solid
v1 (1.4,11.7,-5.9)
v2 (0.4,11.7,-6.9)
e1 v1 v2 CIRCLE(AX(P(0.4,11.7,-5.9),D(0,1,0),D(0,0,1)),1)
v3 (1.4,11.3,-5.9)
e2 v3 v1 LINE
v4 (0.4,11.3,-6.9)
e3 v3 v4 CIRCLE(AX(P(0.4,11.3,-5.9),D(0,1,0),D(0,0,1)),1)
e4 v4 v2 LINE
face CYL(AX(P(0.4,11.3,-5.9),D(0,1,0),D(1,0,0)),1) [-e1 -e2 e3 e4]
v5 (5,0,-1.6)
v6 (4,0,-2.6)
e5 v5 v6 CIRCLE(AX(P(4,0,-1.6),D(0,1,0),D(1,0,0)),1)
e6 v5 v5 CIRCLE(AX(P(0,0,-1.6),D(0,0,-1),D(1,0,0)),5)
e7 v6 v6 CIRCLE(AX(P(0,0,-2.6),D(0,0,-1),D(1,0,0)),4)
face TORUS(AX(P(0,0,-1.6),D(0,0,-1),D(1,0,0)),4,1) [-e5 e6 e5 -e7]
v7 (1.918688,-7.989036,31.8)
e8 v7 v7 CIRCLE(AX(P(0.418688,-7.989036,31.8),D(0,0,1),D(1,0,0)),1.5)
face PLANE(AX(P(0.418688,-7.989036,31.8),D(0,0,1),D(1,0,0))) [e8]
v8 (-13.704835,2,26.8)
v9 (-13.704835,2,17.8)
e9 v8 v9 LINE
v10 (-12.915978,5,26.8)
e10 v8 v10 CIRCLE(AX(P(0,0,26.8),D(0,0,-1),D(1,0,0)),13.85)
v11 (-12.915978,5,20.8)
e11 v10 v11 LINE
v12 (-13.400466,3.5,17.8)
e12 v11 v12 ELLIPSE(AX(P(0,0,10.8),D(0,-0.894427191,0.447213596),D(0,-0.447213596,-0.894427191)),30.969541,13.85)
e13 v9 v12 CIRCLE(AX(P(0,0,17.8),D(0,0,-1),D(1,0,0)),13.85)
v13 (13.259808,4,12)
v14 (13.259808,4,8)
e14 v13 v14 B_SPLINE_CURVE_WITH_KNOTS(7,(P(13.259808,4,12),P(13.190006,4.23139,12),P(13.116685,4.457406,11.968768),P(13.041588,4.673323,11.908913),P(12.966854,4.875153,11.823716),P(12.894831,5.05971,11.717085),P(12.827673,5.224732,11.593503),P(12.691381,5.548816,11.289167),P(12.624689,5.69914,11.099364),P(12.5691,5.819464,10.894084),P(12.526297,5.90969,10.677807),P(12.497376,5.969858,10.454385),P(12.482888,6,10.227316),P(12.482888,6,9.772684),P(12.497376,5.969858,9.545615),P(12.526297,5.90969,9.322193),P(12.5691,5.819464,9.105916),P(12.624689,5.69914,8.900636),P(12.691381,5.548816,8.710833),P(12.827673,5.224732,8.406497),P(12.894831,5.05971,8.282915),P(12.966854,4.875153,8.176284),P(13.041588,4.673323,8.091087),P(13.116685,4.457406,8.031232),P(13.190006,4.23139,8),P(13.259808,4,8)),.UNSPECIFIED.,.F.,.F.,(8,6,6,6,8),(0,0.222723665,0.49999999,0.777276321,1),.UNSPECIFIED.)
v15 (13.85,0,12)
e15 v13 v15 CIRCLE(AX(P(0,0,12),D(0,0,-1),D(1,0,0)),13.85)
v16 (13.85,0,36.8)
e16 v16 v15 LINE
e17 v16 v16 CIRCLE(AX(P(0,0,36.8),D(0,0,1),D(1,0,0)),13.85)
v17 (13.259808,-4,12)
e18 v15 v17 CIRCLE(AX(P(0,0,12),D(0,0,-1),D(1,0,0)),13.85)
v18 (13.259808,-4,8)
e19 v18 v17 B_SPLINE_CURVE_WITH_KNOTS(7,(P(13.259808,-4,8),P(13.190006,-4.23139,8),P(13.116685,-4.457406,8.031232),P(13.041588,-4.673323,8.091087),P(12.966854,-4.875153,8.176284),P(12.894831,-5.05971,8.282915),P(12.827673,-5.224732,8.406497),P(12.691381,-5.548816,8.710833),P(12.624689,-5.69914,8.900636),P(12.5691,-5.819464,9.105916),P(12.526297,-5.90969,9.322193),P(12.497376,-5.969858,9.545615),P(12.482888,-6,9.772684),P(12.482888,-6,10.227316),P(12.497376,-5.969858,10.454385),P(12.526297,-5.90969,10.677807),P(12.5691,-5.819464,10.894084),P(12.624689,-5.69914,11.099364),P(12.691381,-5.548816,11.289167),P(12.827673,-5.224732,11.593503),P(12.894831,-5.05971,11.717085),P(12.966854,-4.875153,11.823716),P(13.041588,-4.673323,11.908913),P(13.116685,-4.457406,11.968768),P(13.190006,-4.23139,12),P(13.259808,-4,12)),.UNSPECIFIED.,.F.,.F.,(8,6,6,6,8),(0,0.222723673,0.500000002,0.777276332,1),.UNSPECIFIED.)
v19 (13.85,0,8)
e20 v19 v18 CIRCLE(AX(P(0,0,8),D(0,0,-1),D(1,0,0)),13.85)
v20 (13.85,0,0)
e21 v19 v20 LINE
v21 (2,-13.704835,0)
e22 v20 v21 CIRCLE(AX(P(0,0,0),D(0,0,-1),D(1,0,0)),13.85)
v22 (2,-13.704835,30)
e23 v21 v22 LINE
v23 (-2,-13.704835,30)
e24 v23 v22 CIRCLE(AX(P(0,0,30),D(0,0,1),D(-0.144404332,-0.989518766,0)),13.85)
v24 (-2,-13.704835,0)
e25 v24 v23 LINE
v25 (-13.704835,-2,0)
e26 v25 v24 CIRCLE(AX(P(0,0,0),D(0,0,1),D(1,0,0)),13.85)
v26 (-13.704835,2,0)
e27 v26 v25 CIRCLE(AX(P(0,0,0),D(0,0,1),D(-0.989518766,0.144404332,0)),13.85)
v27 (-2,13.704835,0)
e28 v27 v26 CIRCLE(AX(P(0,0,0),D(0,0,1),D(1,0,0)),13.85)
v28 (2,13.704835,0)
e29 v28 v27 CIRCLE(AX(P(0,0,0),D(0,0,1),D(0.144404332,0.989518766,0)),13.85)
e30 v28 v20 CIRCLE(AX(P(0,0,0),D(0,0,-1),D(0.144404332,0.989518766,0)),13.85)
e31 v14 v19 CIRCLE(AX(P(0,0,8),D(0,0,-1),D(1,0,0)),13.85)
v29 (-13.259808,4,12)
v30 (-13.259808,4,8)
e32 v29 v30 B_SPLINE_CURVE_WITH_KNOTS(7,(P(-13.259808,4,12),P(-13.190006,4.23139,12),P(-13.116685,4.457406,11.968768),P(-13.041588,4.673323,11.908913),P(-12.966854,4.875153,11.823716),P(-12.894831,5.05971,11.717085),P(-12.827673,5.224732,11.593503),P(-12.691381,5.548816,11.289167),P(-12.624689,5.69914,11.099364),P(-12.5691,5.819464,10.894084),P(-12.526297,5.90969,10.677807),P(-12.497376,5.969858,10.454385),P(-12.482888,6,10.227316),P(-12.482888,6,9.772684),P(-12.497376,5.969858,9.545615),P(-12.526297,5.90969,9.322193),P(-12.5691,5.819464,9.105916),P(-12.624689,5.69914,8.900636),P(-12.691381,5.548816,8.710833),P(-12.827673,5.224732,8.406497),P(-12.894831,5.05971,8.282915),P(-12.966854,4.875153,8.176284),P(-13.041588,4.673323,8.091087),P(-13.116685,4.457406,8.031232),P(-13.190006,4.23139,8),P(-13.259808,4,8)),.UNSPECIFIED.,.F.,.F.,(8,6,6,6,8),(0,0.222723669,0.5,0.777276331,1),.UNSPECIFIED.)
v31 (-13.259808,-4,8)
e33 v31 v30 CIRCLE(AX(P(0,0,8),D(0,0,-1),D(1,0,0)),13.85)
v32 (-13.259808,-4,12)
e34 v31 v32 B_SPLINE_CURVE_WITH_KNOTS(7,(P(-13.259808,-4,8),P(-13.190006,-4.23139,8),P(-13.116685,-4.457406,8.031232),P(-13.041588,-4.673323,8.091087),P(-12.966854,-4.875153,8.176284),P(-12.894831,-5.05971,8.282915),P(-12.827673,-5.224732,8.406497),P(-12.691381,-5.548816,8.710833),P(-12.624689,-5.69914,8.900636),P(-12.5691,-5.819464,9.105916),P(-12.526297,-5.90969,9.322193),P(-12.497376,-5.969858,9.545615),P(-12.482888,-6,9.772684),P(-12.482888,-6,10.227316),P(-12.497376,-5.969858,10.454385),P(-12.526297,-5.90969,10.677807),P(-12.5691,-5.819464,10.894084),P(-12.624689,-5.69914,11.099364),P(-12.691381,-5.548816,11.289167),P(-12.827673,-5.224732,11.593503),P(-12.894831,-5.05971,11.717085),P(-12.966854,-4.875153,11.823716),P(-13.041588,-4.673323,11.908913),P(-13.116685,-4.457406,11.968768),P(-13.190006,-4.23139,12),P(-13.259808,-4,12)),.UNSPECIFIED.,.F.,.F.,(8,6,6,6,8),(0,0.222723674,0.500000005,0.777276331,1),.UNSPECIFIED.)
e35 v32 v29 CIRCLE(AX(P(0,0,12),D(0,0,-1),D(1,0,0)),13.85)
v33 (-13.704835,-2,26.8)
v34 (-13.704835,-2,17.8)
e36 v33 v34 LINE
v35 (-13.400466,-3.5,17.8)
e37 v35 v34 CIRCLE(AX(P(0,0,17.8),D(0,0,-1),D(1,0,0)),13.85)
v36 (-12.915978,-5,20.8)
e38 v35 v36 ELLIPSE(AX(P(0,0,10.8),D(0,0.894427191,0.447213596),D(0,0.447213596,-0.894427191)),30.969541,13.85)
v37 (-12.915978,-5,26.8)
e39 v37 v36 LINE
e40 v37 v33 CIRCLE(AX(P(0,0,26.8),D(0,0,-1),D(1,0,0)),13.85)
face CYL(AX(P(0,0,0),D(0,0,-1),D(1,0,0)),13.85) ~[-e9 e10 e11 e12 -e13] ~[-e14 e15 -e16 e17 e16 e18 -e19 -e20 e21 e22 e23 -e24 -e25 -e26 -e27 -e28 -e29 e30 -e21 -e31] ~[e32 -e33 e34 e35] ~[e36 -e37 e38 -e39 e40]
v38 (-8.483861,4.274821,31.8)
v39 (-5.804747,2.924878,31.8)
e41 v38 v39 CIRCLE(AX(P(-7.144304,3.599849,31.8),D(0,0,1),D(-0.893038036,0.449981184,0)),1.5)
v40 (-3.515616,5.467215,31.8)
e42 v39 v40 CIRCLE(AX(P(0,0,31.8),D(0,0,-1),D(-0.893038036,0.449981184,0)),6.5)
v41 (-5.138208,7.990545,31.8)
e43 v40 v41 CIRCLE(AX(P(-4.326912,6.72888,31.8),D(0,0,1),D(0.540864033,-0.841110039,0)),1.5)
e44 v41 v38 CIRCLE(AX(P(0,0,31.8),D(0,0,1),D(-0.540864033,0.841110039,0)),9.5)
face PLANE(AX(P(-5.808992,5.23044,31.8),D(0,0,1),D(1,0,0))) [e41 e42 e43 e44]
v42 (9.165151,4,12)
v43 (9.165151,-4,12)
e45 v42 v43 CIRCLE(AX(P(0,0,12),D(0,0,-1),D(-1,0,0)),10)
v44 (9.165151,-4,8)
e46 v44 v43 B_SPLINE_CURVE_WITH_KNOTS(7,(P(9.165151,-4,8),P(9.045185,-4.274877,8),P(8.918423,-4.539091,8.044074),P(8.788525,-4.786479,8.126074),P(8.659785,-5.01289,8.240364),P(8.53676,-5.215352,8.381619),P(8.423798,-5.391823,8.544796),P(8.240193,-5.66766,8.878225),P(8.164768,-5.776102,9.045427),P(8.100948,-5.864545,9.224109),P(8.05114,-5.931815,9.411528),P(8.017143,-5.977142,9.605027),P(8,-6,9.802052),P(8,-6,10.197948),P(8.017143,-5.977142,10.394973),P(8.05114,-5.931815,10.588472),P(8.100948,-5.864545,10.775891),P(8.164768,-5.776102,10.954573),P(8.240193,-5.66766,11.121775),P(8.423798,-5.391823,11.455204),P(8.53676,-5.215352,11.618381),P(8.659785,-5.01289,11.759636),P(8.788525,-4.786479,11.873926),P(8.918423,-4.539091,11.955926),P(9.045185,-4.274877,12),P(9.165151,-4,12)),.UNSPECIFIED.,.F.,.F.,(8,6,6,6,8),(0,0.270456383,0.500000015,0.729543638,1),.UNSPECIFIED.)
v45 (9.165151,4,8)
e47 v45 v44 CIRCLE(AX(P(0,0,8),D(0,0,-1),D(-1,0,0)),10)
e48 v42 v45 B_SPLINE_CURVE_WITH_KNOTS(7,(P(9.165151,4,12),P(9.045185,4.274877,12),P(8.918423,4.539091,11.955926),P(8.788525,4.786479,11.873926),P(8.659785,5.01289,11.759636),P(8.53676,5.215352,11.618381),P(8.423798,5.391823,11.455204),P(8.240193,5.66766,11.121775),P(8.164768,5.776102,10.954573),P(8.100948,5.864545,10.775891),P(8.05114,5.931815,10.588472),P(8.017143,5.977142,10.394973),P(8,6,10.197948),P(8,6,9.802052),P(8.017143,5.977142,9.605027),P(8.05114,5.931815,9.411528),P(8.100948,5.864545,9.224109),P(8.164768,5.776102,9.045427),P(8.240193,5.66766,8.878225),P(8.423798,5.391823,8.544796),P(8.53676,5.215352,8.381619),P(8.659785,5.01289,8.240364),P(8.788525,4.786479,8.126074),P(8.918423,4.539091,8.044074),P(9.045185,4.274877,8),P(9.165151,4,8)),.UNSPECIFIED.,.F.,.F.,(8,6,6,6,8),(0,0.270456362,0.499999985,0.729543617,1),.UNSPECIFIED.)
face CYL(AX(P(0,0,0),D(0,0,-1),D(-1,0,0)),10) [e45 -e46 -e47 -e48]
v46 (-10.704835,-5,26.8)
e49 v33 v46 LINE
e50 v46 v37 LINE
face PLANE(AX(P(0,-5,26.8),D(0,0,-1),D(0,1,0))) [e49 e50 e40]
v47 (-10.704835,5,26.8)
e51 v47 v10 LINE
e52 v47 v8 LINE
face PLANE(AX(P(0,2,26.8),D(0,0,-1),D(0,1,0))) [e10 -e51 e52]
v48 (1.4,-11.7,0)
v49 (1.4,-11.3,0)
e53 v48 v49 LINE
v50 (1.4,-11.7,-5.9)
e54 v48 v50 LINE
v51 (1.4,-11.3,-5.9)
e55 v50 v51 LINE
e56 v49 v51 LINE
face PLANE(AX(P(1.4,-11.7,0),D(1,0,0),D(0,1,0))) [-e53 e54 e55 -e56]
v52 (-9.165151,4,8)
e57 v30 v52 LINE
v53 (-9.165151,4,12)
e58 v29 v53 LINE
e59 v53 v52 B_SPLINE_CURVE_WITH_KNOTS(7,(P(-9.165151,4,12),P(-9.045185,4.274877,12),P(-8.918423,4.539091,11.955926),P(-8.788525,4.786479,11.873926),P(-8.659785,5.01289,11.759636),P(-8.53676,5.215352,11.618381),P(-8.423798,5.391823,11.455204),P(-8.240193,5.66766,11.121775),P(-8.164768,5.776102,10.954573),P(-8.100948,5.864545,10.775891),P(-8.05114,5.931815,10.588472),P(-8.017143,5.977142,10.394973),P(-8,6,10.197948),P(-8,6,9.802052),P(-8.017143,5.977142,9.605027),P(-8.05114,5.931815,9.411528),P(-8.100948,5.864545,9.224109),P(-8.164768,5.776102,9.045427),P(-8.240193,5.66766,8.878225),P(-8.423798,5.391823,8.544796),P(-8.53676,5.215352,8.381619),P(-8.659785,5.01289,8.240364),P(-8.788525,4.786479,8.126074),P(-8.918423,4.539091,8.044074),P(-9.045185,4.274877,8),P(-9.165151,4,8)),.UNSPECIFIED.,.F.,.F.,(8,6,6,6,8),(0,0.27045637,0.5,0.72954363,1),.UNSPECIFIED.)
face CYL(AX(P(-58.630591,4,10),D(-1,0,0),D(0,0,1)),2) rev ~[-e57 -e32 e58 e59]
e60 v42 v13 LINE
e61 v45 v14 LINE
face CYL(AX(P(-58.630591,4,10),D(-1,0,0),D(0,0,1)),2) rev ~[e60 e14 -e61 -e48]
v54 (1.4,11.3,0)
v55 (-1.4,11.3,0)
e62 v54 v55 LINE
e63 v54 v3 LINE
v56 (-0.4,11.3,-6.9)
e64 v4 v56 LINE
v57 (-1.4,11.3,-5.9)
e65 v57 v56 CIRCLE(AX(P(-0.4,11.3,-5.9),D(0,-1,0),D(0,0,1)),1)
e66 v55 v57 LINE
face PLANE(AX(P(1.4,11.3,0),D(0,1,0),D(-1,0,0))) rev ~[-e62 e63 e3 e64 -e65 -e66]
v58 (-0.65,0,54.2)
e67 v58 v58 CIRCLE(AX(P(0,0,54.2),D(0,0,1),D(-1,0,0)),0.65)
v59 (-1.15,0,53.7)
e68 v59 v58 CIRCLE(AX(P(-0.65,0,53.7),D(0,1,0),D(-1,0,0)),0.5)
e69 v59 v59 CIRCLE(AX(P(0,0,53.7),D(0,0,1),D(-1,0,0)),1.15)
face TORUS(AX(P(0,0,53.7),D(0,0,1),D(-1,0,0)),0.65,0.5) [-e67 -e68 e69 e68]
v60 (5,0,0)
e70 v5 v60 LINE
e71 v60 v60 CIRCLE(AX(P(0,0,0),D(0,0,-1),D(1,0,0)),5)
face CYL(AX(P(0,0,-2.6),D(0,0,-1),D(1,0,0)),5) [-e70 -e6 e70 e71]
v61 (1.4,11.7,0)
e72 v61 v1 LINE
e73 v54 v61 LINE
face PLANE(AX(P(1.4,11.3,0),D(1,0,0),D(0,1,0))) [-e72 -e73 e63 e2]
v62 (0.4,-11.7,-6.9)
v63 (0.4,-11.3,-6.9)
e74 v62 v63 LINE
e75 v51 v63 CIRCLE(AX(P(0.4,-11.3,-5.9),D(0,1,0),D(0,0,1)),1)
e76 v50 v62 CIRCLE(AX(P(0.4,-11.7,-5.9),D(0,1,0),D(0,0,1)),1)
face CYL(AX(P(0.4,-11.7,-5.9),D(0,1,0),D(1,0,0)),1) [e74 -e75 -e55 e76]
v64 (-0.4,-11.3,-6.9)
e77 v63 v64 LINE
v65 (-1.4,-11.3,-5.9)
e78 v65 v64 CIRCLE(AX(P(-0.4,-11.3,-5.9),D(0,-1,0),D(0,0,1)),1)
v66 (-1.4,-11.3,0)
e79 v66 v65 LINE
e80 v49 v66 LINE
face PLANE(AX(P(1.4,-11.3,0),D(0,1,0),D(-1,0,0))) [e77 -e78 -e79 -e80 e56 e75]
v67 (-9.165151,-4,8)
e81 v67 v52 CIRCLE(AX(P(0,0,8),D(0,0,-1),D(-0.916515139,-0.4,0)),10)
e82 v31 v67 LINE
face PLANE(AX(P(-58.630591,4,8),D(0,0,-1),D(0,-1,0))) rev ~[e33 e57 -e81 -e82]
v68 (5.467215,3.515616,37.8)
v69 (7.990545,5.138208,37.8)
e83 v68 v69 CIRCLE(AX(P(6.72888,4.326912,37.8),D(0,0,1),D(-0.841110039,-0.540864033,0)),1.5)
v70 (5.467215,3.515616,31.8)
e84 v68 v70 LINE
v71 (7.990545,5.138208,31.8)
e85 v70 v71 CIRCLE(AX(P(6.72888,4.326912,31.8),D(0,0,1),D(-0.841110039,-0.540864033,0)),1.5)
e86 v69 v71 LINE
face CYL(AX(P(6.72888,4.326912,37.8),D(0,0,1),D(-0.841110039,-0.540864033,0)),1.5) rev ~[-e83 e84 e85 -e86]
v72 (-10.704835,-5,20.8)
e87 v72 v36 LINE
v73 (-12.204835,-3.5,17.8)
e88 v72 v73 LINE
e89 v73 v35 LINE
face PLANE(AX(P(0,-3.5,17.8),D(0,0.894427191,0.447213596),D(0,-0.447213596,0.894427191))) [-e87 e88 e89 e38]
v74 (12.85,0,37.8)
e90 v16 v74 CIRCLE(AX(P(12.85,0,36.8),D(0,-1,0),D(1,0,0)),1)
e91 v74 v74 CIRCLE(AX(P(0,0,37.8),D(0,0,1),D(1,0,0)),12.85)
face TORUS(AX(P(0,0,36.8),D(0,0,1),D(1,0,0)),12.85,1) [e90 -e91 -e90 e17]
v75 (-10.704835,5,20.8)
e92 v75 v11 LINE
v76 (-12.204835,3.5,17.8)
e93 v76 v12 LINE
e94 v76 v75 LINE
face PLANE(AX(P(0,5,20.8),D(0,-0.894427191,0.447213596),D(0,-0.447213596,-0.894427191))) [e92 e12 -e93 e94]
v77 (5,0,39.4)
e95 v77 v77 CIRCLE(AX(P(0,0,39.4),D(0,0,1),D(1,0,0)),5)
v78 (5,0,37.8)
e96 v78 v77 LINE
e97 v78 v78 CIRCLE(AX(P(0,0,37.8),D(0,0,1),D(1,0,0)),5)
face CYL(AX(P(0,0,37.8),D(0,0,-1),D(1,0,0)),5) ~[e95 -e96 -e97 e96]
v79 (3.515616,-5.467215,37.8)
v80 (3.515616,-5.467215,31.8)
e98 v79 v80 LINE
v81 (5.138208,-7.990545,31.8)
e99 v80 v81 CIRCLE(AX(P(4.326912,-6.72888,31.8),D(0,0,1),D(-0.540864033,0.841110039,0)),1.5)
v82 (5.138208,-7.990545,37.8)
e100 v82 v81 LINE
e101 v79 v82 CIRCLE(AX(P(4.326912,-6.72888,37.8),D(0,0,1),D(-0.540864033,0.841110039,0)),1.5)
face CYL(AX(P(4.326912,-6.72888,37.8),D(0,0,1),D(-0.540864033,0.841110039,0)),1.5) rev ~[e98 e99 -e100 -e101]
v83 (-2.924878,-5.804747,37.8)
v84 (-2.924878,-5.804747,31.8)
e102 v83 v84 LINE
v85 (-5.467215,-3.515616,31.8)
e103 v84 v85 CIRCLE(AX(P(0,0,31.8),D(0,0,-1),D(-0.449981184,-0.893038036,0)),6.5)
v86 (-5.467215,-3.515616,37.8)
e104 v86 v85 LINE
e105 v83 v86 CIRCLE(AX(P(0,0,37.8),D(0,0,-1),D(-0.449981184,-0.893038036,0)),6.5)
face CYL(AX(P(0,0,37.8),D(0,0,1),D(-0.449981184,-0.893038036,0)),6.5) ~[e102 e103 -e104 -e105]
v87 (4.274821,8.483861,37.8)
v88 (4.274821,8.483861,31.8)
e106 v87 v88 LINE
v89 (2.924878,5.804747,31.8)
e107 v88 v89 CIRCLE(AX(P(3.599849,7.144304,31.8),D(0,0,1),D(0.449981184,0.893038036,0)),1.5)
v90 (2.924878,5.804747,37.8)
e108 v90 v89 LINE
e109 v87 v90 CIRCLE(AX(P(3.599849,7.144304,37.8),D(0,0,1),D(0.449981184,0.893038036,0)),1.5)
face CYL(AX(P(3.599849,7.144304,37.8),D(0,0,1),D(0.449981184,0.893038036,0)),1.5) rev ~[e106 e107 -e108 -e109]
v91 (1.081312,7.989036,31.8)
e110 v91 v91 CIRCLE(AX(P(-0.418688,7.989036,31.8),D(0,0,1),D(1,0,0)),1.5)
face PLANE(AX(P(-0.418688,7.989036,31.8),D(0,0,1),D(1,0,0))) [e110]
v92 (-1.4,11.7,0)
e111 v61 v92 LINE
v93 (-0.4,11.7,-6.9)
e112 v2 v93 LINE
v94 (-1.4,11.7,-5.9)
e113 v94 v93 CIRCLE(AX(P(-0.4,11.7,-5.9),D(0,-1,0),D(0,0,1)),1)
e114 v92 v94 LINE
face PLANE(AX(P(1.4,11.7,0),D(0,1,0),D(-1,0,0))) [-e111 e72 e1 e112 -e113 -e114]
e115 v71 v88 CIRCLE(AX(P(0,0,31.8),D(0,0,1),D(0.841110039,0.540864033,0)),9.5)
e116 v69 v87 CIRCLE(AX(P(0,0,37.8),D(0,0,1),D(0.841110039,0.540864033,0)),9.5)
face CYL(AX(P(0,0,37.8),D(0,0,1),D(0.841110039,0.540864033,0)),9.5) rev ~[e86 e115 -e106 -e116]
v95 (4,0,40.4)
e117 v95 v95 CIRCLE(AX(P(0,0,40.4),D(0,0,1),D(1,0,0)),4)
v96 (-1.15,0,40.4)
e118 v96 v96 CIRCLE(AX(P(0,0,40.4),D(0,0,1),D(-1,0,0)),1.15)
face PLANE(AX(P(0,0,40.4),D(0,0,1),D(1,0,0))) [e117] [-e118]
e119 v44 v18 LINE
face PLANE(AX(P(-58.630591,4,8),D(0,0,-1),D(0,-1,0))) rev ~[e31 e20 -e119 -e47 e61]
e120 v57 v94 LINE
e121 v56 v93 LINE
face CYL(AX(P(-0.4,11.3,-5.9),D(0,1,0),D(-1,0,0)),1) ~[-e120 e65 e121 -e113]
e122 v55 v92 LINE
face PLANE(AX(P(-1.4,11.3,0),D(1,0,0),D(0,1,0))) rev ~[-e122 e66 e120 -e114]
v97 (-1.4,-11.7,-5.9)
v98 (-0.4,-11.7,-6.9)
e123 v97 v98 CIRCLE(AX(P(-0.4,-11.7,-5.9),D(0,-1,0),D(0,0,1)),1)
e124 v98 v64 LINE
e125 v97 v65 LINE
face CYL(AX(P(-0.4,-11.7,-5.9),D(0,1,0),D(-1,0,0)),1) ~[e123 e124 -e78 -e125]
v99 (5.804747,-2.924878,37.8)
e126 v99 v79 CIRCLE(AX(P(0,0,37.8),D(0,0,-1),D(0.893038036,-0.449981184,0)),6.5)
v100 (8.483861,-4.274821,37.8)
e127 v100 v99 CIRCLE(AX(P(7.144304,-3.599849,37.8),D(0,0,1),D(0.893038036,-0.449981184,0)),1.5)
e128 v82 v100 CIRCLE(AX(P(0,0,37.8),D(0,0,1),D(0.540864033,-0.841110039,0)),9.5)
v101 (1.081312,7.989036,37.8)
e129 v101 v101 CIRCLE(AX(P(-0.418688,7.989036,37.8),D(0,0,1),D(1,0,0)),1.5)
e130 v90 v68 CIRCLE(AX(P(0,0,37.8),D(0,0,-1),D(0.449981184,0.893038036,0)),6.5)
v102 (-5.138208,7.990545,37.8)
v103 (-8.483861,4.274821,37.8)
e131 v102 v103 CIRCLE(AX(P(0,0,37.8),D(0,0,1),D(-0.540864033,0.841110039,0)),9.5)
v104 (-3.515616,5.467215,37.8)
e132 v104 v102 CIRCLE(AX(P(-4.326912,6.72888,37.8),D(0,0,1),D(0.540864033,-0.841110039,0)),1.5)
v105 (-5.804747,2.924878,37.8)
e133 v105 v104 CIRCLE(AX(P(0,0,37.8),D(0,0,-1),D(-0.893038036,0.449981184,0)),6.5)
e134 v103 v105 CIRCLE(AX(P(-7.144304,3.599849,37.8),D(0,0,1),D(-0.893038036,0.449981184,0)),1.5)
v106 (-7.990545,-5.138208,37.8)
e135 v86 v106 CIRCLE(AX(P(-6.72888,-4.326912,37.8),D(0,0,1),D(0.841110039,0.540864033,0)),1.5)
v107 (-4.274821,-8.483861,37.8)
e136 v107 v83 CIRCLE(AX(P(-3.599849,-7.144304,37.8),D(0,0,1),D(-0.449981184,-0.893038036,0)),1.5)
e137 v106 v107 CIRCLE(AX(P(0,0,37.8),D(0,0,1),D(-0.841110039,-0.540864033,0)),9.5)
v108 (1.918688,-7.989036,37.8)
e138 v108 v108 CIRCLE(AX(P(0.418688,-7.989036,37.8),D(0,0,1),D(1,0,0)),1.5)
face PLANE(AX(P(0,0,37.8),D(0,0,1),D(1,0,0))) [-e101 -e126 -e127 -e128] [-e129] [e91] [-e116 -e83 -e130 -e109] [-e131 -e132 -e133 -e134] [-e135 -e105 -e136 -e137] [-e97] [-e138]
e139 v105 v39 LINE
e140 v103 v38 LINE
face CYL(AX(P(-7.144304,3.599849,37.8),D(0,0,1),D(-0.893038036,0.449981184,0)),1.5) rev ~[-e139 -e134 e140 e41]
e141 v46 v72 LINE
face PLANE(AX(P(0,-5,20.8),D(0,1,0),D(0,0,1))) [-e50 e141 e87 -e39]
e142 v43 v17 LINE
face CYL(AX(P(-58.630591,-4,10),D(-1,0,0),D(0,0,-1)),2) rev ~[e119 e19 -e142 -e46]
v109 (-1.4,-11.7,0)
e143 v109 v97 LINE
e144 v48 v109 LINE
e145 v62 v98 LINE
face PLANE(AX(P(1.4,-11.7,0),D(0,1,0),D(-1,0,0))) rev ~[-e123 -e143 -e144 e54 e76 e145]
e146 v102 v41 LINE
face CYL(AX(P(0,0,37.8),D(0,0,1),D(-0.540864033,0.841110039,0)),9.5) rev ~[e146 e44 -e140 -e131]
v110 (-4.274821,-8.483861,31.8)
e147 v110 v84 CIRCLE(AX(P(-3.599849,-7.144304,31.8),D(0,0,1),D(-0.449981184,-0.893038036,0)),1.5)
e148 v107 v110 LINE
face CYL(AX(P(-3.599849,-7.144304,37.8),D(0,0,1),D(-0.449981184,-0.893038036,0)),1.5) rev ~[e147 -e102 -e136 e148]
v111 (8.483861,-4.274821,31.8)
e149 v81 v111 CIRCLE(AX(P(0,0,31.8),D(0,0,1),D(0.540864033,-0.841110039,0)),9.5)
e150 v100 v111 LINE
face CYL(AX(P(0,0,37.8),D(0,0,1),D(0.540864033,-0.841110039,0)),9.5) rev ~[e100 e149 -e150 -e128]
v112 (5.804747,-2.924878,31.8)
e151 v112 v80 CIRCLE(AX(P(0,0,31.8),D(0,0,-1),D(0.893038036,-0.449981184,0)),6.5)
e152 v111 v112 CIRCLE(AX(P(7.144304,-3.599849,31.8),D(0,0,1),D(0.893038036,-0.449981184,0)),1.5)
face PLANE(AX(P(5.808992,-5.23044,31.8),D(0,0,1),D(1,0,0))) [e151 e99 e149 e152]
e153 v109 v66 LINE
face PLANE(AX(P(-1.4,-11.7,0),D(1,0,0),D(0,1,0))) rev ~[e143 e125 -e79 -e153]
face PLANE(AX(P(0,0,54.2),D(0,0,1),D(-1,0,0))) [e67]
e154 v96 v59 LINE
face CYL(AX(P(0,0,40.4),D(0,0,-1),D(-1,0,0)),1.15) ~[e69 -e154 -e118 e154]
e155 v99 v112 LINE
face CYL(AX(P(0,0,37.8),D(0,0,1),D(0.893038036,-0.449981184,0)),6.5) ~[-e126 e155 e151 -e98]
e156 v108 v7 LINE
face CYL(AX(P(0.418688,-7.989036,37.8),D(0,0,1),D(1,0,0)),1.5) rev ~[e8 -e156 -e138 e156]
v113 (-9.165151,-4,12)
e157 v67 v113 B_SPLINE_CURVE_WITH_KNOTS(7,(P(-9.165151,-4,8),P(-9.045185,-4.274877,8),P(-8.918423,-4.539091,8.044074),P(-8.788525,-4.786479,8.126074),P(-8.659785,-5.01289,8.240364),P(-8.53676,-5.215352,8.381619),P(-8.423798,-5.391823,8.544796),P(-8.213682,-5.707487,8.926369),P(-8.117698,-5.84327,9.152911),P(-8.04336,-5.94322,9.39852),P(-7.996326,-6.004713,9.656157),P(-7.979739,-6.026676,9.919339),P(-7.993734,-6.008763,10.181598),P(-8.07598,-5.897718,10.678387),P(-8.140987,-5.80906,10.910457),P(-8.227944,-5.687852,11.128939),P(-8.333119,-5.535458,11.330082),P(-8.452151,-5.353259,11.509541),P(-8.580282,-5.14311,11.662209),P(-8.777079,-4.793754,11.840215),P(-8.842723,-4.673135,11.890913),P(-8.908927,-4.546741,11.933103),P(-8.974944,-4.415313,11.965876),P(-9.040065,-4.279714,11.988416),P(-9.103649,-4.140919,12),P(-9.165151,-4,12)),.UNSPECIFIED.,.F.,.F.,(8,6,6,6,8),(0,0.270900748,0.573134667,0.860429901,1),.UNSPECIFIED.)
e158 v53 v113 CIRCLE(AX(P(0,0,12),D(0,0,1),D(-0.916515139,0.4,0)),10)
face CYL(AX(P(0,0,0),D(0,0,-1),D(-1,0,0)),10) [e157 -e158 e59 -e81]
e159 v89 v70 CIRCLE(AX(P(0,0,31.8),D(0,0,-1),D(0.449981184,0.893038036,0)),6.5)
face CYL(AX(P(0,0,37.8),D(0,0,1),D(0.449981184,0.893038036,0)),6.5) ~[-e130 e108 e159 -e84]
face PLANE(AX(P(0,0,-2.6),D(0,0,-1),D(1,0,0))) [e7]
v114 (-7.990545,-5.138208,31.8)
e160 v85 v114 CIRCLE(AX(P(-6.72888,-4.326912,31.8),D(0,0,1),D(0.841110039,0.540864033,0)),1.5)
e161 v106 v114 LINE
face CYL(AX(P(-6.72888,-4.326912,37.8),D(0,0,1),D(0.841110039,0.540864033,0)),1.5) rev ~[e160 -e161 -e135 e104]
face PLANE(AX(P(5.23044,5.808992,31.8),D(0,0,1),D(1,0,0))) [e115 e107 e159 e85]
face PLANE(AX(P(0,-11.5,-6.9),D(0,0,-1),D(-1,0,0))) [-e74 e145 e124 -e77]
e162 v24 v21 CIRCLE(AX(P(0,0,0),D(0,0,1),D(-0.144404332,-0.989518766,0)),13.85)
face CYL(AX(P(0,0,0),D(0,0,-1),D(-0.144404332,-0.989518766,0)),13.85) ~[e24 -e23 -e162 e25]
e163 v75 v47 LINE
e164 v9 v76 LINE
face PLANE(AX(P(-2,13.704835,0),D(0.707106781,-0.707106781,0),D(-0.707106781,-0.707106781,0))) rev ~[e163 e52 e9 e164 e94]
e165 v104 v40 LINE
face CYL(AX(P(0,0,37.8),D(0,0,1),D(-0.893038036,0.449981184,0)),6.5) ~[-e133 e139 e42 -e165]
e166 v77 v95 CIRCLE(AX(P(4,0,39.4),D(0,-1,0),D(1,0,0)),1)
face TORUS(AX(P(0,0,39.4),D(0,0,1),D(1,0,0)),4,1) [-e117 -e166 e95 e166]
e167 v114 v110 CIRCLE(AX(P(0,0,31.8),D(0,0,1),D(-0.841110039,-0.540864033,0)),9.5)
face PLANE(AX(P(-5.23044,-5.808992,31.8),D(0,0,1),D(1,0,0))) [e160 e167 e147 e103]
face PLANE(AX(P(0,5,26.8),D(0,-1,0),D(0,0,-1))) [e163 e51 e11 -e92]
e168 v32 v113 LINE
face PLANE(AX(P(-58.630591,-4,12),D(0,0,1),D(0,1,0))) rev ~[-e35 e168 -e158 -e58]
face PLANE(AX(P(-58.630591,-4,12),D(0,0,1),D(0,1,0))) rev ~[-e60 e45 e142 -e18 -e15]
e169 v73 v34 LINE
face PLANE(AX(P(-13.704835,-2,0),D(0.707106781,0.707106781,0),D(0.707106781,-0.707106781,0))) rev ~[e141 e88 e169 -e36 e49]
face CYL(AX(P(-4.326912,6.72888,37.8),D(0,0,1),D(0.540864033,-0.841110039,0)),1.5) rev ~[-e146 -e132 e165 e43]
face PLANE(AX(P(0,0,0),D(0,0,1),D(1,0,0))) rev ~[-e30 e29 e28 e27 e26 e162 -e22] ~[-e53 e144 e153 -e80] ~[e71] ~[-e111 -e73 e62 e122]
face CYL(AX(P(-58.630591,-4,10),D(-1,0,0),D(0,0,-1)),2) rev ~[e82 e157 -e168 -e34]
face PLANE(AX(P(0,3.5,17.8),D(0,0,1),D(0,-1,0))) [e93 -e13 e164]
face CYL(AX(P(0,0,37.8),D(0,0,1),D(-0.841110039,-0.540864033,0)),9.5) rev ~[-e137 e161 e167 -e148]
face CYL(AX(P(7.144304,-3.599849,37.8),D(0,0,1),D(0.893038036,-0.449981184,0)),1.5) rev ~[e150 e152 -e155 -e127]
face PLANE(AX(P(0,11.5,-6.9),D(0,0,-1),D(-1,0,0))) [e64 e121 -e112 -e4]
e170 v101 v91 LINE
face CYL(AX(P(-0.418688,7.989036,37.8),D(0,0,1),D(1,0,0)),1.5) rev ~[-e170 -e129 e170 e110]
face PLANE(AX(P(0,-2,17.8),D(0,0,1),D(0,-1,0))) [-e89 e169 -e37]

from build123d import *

# Parameters (mm, degrees)
SKETCH_1_R               = 13.85
EXTRUDE_1_DEPTH          = 37.8
FILLET_1_R               = 1
SKETCH_2_R               = 5
EXTRUDE_2_DEPTH          = 2.6
FILLET_2_R               = 1
SKETCH_3_R               = 1.15
EXTRUDE_3_DEPTH          = 13.8
FILLET_3_R               = 0.5
SKETCH_5_R               = 1.5
CUT_EXTRUDE_1_DEPTH      = 6
EXTRUDE_START            = 2.6
SKETCH_6_R               = 5
EXTRUDE_4_DEPTH          = 2.6
FILLET_4_R               = 1
SKETCH_7_W               = 2.8
SKETCH_7_H               = 0.4
EXTRUDE_5_DEPTH          = 6.9
FILLET_5_R               = 1
CUT_EXTRUDE_3_DEPTH      = 58.630590859
EXTRUDE_7_DEPTH          = 30
CUT_EXTRUDE_2_DEPTH      = 58.630590859
CUT_EXTRUDE_2_DEPTH_BACK = 58.630590859
SKETCH_9_R               = 10
EXTRUDE_6_DEPTH          = 20


with BuildPart() as part:
    # ｽｹｯﾁ1 → ﾎﾞｽ - 押し出し1 (new body)
    with BuildSketch(Plane.XY):
        Circle(SKETCH_1_R)
    extrude(amount=EXTRUDE_1_DEPTH)

    # ﾌｨﾚｯﾄ1
    fillet_1_edges = [part.edges().sort_by_distance(p)[0] for p in [
        (-13.85, 0, 37.8),
    ]]
    fillet(fillet_1_edges, radius=FILLET_1_R)

    # ｽｹｯﾁ2 → ﾎﾞｽ - 押し出し2 (add)
    with BuildSketch(Plane.XY.offset(37.8)):
        Circle(SKETCH_2_R)
    extrude(amount=EXTRUDE_2_DEPTH)

    # ﾌｨﾚｯﾄ2
    fillet_2_edges = [part.edges().sort_by_distance(p)[0] for p in [
        (-5, 0, 40.4),
    ]]
    fillet(fillet_2_edges, radius=FILLET_2_R)

    # ｽｹｯﾁ3 → ﾎﾞｽ - 押し出し3 (add)
    with BuildSketch(Plane.XY.offset(40.4)):
        with Locations(Location((0, 0, 0), (0, 0, 180))):
            Circle(SKETCH_3_R)
    extrude(amount=EXTRUDE_3_DEPTH)

    # ﾌｨﾚｯﾄ3
    fillet_3_edges = [part.edges().sort_by_distance(p)[0] for p in [
        (1.15, 0, 54.2),
    ]]
    fillet(fillet_3_edges, radius=FILLET_3_R)

    # ｽｹｯﾁ5 → ｶｯﾄ - 押し出し1 (cut)
    with BuildSketch(Plane.XY.offset(37.8)):
        with Locations((-0.41868765, 7.989036278)):
            Circle(SKETCH_5_R)
        with Locations((0.41868765, -7.989036278)):
            Circle(SKETCH_5_R)
        with BuildLine():
            ThreePointArc((7.990545371, 5.138208314), (6.35674076, 7.059875842), (4.274821243, 8.483861346))
            ThreePointArc((4.274821243, 8.483861346), (2.260292413, 7.819276067), (2.924877693, 5.804747237))
            ThreePointArc((2.924877693, 5.804747237), (4.349348941, 4.830441366), (5.467215254, 3.515616215))
            ThreePointArc((5.467215254, 3.515616215), (7.540176362, 3.065247206), (7.990545371, 5.138208314))
        make_face()
        with BuildLine():
            ThreePointArc((5.138208314, -7.990545371), (7.059875842, -6.35674076), (8.483861346, -4.274821243))
            ThreePointArc((8.483861346, -4.274821243), (7.819276067, -2.260292413), (5.804747237, -2.924877693))
            ThreePointArc((5.804747237, -2.924877693), (4.830441366, -4.349348941), (3.515616215, -5.467215254))
            ThreePointArc((3.515616215, -5.467215254), (3.065247206, -7.540176362), (5.138208314, -7.990545371))
        make_face()
        with BuildLine():
            ThreePointArc((-7.990545371, -5.138208314), (-6.35674076, -7.059875842), (-4.274821243, -8.483861346))
            ThreePointArc((-4.274821243, -8.483861346), (-2.260292413, -7.819276067), (-2.924877693, -5.804747237))
            ThreePointArc((-2.924877693, -5.804747237), (-4.349348941, -4.830441366), (-5.467215254, -3.515616215))
            ThreePointArc((-5.467215254, -3.515616215), (-7.540176362, -3.065247206), (-7.990545371, -5.138208314))
        make_face()
        with BuildLine():
            ThreePointArc((-5.138208314, 7.990545371), (-7.059875842, 6.35674076), (-8.483861346, 4.274821243))
            ThreePointArc((-8.483861346, 4.274821243), (-7.819276067, 2.260292413), (-5.804747237, 2.924877693))
            ThreePointArc((-5.804747237, 2.924877693), (-4.830441366, 4.349348941), (-3.515616215, 5.467215254))
            ThreePointArc((-3.515616215, 5.467215254), (-3.065247206, 7.540176362), (-5.138208314, 7.990545371))
        make_face()
    extrude(amount=-CUT_EXTRUDE_1_DEPTH, mode=Mode.SUBTRACT)

    # ｽｹｯﾁ6 → ﾎﾞｽ - 押し出し4 (add)
    with BuildSketch(Plane(origin=(0, 0, 0), x_dir=(-1, 0, 0), z_dir=(0, 0, -1)).offset(EXTRUDE_START)):
        with Locations(Location((0, 0, 0), (0, 0, 180))):
            Circle(SKETCH_6_R)
    extrude(amount=-EXTRUDE_4_DEPTH)

    # ﾌｨﾚｯﾄ4
    fillet_4_edges = [part.edges().sort_by_distance(p)[0] for p in [
        (-5, 0, -2.6),
    ]]
    fillet(fillet_4_edges, radius=FILLET_4_R)

    # ｽｹｯﾁ7 → ﾎﾞｽ - 押し出し5 (add)
    with BuildSketch(Plane(origin=(0, 0, 0), x_dir=(-1, 0, 0), z_dir=(0, 0, -1))):
        with Locations((0, 11.5)):
            Rectangle(SKETCH_7_W, SKETCH_7_H)
        with Locations((0, -11.5)):
            Rectangle(SKETCH_7_W, SKETCH_7_H)
    extrude(amount=EXTRUDE_5_DEPTH)

    # ﾌｨﾚｯﾄ5
    fillet_5_edges = [part.edges().sort_by_distance(p)[0] for p in [
        (-1.4, -11.5, -6.9),
        (1.4, -11.5, -6.9),
        (-1.4, 11.5, -6.9),
        (1.4, 11.5, -6.9),
    ]]
    fillet(fillet_5_edges, radius=FILLET_5_R)

    # ｽｹｯﾁ10 → ｶｯﾄ - 押し出し3 (cut, through all)
    with BuildSketch(Plane(origin=(0, 0, 0), x_dir=(0, 0, -1), z_dir=(1, 0, 0))):
        Polygon((-26.8, 5), (-20.8, 5), (-17.8, 3.5), (-17.8, 2), (-26.8, 2), align=None)
        Polygon((-26.8, -2), (-17.8, -2), (-17.8, -3.5), (-20.8, -5), (-26.8, -5), align=None)
    extrude(amount=-CUT_EXTRUDE_3_DEPTH, mode=Mode.SUBTRACT)

    # ｽｹｯﾁ11 → ﾎﾞｽ - 押し出し7 (add)
    with BuildSketch(Plane(origin=(0, 0, 0), x_dir=(-1, 0, 0), z_dir=(0, 0, -1))):
        with BuildLine():
            Line((-13.704834913, 2), (-2, 13.704834913))
            ThreePointArc((-2, 13.704834913), (0, 13.85), (2, 13.704834913))
            Line((2, 13.704834913), (13.704834913, 2))
            ThreePointArc((13.704834913, 2), (13.85, 0), (13.704834913, -2))
            Line((13.704834913, -2), (2, -13.704834913))
            ThreePointArc((2, -13.704834913), (0, -13.85), (-2, -13.704834913))
            Line((-2, -13.704834913), (-13.704834913, -2))
            ThreePointArc((-13.704834913, -2), (-13.85, 0), (-13.704834913, 2))
        make_face()
    extrude(amount=-EXTRUDE_7_DEPTH)

    # ｽｹｯﾁ8 → ｶｯﾄ - 押し出し2 (cut, two sides: drawn at the far end of the back side and taken through both)
    with BuildSketch(Plane(origin=(0, 0, 0), x_dir=(0, 0, -1), z_dir=(1, 0, 0)).offset(-CUT_EXTRUDE_2_DEPTH_BACK)):
        with BuildLine():
            Line((-8, 4), (-8, -4))
            ThreePointArc((-8, -4), (-10, -6), (-12, -4))
            Line((-12, -4), (-12, 4))
            ThreePointArc((-12, 4), (-10, 6), (-8, 4))
        make_face()
    extrude(amount=CUT_EXTRUDE_2_DEPTH + CUT_EXTRUDE_2_DEPTH_BACK, mode=Mode.SUBTRACT)

    # ｽｹｯﾁ9 → ﾎﾞｽ - 押し出し6 (add)
    with BuildSketch(Plane(origin=(0, 0, 0), x_dir=(-1, 0, 0), z_dir=(0, 0, -1))):
        Circle(SKETCH_9_R)
    extrude(amount=-EXTRUDE_6_DEPTH)


solid = part.part
